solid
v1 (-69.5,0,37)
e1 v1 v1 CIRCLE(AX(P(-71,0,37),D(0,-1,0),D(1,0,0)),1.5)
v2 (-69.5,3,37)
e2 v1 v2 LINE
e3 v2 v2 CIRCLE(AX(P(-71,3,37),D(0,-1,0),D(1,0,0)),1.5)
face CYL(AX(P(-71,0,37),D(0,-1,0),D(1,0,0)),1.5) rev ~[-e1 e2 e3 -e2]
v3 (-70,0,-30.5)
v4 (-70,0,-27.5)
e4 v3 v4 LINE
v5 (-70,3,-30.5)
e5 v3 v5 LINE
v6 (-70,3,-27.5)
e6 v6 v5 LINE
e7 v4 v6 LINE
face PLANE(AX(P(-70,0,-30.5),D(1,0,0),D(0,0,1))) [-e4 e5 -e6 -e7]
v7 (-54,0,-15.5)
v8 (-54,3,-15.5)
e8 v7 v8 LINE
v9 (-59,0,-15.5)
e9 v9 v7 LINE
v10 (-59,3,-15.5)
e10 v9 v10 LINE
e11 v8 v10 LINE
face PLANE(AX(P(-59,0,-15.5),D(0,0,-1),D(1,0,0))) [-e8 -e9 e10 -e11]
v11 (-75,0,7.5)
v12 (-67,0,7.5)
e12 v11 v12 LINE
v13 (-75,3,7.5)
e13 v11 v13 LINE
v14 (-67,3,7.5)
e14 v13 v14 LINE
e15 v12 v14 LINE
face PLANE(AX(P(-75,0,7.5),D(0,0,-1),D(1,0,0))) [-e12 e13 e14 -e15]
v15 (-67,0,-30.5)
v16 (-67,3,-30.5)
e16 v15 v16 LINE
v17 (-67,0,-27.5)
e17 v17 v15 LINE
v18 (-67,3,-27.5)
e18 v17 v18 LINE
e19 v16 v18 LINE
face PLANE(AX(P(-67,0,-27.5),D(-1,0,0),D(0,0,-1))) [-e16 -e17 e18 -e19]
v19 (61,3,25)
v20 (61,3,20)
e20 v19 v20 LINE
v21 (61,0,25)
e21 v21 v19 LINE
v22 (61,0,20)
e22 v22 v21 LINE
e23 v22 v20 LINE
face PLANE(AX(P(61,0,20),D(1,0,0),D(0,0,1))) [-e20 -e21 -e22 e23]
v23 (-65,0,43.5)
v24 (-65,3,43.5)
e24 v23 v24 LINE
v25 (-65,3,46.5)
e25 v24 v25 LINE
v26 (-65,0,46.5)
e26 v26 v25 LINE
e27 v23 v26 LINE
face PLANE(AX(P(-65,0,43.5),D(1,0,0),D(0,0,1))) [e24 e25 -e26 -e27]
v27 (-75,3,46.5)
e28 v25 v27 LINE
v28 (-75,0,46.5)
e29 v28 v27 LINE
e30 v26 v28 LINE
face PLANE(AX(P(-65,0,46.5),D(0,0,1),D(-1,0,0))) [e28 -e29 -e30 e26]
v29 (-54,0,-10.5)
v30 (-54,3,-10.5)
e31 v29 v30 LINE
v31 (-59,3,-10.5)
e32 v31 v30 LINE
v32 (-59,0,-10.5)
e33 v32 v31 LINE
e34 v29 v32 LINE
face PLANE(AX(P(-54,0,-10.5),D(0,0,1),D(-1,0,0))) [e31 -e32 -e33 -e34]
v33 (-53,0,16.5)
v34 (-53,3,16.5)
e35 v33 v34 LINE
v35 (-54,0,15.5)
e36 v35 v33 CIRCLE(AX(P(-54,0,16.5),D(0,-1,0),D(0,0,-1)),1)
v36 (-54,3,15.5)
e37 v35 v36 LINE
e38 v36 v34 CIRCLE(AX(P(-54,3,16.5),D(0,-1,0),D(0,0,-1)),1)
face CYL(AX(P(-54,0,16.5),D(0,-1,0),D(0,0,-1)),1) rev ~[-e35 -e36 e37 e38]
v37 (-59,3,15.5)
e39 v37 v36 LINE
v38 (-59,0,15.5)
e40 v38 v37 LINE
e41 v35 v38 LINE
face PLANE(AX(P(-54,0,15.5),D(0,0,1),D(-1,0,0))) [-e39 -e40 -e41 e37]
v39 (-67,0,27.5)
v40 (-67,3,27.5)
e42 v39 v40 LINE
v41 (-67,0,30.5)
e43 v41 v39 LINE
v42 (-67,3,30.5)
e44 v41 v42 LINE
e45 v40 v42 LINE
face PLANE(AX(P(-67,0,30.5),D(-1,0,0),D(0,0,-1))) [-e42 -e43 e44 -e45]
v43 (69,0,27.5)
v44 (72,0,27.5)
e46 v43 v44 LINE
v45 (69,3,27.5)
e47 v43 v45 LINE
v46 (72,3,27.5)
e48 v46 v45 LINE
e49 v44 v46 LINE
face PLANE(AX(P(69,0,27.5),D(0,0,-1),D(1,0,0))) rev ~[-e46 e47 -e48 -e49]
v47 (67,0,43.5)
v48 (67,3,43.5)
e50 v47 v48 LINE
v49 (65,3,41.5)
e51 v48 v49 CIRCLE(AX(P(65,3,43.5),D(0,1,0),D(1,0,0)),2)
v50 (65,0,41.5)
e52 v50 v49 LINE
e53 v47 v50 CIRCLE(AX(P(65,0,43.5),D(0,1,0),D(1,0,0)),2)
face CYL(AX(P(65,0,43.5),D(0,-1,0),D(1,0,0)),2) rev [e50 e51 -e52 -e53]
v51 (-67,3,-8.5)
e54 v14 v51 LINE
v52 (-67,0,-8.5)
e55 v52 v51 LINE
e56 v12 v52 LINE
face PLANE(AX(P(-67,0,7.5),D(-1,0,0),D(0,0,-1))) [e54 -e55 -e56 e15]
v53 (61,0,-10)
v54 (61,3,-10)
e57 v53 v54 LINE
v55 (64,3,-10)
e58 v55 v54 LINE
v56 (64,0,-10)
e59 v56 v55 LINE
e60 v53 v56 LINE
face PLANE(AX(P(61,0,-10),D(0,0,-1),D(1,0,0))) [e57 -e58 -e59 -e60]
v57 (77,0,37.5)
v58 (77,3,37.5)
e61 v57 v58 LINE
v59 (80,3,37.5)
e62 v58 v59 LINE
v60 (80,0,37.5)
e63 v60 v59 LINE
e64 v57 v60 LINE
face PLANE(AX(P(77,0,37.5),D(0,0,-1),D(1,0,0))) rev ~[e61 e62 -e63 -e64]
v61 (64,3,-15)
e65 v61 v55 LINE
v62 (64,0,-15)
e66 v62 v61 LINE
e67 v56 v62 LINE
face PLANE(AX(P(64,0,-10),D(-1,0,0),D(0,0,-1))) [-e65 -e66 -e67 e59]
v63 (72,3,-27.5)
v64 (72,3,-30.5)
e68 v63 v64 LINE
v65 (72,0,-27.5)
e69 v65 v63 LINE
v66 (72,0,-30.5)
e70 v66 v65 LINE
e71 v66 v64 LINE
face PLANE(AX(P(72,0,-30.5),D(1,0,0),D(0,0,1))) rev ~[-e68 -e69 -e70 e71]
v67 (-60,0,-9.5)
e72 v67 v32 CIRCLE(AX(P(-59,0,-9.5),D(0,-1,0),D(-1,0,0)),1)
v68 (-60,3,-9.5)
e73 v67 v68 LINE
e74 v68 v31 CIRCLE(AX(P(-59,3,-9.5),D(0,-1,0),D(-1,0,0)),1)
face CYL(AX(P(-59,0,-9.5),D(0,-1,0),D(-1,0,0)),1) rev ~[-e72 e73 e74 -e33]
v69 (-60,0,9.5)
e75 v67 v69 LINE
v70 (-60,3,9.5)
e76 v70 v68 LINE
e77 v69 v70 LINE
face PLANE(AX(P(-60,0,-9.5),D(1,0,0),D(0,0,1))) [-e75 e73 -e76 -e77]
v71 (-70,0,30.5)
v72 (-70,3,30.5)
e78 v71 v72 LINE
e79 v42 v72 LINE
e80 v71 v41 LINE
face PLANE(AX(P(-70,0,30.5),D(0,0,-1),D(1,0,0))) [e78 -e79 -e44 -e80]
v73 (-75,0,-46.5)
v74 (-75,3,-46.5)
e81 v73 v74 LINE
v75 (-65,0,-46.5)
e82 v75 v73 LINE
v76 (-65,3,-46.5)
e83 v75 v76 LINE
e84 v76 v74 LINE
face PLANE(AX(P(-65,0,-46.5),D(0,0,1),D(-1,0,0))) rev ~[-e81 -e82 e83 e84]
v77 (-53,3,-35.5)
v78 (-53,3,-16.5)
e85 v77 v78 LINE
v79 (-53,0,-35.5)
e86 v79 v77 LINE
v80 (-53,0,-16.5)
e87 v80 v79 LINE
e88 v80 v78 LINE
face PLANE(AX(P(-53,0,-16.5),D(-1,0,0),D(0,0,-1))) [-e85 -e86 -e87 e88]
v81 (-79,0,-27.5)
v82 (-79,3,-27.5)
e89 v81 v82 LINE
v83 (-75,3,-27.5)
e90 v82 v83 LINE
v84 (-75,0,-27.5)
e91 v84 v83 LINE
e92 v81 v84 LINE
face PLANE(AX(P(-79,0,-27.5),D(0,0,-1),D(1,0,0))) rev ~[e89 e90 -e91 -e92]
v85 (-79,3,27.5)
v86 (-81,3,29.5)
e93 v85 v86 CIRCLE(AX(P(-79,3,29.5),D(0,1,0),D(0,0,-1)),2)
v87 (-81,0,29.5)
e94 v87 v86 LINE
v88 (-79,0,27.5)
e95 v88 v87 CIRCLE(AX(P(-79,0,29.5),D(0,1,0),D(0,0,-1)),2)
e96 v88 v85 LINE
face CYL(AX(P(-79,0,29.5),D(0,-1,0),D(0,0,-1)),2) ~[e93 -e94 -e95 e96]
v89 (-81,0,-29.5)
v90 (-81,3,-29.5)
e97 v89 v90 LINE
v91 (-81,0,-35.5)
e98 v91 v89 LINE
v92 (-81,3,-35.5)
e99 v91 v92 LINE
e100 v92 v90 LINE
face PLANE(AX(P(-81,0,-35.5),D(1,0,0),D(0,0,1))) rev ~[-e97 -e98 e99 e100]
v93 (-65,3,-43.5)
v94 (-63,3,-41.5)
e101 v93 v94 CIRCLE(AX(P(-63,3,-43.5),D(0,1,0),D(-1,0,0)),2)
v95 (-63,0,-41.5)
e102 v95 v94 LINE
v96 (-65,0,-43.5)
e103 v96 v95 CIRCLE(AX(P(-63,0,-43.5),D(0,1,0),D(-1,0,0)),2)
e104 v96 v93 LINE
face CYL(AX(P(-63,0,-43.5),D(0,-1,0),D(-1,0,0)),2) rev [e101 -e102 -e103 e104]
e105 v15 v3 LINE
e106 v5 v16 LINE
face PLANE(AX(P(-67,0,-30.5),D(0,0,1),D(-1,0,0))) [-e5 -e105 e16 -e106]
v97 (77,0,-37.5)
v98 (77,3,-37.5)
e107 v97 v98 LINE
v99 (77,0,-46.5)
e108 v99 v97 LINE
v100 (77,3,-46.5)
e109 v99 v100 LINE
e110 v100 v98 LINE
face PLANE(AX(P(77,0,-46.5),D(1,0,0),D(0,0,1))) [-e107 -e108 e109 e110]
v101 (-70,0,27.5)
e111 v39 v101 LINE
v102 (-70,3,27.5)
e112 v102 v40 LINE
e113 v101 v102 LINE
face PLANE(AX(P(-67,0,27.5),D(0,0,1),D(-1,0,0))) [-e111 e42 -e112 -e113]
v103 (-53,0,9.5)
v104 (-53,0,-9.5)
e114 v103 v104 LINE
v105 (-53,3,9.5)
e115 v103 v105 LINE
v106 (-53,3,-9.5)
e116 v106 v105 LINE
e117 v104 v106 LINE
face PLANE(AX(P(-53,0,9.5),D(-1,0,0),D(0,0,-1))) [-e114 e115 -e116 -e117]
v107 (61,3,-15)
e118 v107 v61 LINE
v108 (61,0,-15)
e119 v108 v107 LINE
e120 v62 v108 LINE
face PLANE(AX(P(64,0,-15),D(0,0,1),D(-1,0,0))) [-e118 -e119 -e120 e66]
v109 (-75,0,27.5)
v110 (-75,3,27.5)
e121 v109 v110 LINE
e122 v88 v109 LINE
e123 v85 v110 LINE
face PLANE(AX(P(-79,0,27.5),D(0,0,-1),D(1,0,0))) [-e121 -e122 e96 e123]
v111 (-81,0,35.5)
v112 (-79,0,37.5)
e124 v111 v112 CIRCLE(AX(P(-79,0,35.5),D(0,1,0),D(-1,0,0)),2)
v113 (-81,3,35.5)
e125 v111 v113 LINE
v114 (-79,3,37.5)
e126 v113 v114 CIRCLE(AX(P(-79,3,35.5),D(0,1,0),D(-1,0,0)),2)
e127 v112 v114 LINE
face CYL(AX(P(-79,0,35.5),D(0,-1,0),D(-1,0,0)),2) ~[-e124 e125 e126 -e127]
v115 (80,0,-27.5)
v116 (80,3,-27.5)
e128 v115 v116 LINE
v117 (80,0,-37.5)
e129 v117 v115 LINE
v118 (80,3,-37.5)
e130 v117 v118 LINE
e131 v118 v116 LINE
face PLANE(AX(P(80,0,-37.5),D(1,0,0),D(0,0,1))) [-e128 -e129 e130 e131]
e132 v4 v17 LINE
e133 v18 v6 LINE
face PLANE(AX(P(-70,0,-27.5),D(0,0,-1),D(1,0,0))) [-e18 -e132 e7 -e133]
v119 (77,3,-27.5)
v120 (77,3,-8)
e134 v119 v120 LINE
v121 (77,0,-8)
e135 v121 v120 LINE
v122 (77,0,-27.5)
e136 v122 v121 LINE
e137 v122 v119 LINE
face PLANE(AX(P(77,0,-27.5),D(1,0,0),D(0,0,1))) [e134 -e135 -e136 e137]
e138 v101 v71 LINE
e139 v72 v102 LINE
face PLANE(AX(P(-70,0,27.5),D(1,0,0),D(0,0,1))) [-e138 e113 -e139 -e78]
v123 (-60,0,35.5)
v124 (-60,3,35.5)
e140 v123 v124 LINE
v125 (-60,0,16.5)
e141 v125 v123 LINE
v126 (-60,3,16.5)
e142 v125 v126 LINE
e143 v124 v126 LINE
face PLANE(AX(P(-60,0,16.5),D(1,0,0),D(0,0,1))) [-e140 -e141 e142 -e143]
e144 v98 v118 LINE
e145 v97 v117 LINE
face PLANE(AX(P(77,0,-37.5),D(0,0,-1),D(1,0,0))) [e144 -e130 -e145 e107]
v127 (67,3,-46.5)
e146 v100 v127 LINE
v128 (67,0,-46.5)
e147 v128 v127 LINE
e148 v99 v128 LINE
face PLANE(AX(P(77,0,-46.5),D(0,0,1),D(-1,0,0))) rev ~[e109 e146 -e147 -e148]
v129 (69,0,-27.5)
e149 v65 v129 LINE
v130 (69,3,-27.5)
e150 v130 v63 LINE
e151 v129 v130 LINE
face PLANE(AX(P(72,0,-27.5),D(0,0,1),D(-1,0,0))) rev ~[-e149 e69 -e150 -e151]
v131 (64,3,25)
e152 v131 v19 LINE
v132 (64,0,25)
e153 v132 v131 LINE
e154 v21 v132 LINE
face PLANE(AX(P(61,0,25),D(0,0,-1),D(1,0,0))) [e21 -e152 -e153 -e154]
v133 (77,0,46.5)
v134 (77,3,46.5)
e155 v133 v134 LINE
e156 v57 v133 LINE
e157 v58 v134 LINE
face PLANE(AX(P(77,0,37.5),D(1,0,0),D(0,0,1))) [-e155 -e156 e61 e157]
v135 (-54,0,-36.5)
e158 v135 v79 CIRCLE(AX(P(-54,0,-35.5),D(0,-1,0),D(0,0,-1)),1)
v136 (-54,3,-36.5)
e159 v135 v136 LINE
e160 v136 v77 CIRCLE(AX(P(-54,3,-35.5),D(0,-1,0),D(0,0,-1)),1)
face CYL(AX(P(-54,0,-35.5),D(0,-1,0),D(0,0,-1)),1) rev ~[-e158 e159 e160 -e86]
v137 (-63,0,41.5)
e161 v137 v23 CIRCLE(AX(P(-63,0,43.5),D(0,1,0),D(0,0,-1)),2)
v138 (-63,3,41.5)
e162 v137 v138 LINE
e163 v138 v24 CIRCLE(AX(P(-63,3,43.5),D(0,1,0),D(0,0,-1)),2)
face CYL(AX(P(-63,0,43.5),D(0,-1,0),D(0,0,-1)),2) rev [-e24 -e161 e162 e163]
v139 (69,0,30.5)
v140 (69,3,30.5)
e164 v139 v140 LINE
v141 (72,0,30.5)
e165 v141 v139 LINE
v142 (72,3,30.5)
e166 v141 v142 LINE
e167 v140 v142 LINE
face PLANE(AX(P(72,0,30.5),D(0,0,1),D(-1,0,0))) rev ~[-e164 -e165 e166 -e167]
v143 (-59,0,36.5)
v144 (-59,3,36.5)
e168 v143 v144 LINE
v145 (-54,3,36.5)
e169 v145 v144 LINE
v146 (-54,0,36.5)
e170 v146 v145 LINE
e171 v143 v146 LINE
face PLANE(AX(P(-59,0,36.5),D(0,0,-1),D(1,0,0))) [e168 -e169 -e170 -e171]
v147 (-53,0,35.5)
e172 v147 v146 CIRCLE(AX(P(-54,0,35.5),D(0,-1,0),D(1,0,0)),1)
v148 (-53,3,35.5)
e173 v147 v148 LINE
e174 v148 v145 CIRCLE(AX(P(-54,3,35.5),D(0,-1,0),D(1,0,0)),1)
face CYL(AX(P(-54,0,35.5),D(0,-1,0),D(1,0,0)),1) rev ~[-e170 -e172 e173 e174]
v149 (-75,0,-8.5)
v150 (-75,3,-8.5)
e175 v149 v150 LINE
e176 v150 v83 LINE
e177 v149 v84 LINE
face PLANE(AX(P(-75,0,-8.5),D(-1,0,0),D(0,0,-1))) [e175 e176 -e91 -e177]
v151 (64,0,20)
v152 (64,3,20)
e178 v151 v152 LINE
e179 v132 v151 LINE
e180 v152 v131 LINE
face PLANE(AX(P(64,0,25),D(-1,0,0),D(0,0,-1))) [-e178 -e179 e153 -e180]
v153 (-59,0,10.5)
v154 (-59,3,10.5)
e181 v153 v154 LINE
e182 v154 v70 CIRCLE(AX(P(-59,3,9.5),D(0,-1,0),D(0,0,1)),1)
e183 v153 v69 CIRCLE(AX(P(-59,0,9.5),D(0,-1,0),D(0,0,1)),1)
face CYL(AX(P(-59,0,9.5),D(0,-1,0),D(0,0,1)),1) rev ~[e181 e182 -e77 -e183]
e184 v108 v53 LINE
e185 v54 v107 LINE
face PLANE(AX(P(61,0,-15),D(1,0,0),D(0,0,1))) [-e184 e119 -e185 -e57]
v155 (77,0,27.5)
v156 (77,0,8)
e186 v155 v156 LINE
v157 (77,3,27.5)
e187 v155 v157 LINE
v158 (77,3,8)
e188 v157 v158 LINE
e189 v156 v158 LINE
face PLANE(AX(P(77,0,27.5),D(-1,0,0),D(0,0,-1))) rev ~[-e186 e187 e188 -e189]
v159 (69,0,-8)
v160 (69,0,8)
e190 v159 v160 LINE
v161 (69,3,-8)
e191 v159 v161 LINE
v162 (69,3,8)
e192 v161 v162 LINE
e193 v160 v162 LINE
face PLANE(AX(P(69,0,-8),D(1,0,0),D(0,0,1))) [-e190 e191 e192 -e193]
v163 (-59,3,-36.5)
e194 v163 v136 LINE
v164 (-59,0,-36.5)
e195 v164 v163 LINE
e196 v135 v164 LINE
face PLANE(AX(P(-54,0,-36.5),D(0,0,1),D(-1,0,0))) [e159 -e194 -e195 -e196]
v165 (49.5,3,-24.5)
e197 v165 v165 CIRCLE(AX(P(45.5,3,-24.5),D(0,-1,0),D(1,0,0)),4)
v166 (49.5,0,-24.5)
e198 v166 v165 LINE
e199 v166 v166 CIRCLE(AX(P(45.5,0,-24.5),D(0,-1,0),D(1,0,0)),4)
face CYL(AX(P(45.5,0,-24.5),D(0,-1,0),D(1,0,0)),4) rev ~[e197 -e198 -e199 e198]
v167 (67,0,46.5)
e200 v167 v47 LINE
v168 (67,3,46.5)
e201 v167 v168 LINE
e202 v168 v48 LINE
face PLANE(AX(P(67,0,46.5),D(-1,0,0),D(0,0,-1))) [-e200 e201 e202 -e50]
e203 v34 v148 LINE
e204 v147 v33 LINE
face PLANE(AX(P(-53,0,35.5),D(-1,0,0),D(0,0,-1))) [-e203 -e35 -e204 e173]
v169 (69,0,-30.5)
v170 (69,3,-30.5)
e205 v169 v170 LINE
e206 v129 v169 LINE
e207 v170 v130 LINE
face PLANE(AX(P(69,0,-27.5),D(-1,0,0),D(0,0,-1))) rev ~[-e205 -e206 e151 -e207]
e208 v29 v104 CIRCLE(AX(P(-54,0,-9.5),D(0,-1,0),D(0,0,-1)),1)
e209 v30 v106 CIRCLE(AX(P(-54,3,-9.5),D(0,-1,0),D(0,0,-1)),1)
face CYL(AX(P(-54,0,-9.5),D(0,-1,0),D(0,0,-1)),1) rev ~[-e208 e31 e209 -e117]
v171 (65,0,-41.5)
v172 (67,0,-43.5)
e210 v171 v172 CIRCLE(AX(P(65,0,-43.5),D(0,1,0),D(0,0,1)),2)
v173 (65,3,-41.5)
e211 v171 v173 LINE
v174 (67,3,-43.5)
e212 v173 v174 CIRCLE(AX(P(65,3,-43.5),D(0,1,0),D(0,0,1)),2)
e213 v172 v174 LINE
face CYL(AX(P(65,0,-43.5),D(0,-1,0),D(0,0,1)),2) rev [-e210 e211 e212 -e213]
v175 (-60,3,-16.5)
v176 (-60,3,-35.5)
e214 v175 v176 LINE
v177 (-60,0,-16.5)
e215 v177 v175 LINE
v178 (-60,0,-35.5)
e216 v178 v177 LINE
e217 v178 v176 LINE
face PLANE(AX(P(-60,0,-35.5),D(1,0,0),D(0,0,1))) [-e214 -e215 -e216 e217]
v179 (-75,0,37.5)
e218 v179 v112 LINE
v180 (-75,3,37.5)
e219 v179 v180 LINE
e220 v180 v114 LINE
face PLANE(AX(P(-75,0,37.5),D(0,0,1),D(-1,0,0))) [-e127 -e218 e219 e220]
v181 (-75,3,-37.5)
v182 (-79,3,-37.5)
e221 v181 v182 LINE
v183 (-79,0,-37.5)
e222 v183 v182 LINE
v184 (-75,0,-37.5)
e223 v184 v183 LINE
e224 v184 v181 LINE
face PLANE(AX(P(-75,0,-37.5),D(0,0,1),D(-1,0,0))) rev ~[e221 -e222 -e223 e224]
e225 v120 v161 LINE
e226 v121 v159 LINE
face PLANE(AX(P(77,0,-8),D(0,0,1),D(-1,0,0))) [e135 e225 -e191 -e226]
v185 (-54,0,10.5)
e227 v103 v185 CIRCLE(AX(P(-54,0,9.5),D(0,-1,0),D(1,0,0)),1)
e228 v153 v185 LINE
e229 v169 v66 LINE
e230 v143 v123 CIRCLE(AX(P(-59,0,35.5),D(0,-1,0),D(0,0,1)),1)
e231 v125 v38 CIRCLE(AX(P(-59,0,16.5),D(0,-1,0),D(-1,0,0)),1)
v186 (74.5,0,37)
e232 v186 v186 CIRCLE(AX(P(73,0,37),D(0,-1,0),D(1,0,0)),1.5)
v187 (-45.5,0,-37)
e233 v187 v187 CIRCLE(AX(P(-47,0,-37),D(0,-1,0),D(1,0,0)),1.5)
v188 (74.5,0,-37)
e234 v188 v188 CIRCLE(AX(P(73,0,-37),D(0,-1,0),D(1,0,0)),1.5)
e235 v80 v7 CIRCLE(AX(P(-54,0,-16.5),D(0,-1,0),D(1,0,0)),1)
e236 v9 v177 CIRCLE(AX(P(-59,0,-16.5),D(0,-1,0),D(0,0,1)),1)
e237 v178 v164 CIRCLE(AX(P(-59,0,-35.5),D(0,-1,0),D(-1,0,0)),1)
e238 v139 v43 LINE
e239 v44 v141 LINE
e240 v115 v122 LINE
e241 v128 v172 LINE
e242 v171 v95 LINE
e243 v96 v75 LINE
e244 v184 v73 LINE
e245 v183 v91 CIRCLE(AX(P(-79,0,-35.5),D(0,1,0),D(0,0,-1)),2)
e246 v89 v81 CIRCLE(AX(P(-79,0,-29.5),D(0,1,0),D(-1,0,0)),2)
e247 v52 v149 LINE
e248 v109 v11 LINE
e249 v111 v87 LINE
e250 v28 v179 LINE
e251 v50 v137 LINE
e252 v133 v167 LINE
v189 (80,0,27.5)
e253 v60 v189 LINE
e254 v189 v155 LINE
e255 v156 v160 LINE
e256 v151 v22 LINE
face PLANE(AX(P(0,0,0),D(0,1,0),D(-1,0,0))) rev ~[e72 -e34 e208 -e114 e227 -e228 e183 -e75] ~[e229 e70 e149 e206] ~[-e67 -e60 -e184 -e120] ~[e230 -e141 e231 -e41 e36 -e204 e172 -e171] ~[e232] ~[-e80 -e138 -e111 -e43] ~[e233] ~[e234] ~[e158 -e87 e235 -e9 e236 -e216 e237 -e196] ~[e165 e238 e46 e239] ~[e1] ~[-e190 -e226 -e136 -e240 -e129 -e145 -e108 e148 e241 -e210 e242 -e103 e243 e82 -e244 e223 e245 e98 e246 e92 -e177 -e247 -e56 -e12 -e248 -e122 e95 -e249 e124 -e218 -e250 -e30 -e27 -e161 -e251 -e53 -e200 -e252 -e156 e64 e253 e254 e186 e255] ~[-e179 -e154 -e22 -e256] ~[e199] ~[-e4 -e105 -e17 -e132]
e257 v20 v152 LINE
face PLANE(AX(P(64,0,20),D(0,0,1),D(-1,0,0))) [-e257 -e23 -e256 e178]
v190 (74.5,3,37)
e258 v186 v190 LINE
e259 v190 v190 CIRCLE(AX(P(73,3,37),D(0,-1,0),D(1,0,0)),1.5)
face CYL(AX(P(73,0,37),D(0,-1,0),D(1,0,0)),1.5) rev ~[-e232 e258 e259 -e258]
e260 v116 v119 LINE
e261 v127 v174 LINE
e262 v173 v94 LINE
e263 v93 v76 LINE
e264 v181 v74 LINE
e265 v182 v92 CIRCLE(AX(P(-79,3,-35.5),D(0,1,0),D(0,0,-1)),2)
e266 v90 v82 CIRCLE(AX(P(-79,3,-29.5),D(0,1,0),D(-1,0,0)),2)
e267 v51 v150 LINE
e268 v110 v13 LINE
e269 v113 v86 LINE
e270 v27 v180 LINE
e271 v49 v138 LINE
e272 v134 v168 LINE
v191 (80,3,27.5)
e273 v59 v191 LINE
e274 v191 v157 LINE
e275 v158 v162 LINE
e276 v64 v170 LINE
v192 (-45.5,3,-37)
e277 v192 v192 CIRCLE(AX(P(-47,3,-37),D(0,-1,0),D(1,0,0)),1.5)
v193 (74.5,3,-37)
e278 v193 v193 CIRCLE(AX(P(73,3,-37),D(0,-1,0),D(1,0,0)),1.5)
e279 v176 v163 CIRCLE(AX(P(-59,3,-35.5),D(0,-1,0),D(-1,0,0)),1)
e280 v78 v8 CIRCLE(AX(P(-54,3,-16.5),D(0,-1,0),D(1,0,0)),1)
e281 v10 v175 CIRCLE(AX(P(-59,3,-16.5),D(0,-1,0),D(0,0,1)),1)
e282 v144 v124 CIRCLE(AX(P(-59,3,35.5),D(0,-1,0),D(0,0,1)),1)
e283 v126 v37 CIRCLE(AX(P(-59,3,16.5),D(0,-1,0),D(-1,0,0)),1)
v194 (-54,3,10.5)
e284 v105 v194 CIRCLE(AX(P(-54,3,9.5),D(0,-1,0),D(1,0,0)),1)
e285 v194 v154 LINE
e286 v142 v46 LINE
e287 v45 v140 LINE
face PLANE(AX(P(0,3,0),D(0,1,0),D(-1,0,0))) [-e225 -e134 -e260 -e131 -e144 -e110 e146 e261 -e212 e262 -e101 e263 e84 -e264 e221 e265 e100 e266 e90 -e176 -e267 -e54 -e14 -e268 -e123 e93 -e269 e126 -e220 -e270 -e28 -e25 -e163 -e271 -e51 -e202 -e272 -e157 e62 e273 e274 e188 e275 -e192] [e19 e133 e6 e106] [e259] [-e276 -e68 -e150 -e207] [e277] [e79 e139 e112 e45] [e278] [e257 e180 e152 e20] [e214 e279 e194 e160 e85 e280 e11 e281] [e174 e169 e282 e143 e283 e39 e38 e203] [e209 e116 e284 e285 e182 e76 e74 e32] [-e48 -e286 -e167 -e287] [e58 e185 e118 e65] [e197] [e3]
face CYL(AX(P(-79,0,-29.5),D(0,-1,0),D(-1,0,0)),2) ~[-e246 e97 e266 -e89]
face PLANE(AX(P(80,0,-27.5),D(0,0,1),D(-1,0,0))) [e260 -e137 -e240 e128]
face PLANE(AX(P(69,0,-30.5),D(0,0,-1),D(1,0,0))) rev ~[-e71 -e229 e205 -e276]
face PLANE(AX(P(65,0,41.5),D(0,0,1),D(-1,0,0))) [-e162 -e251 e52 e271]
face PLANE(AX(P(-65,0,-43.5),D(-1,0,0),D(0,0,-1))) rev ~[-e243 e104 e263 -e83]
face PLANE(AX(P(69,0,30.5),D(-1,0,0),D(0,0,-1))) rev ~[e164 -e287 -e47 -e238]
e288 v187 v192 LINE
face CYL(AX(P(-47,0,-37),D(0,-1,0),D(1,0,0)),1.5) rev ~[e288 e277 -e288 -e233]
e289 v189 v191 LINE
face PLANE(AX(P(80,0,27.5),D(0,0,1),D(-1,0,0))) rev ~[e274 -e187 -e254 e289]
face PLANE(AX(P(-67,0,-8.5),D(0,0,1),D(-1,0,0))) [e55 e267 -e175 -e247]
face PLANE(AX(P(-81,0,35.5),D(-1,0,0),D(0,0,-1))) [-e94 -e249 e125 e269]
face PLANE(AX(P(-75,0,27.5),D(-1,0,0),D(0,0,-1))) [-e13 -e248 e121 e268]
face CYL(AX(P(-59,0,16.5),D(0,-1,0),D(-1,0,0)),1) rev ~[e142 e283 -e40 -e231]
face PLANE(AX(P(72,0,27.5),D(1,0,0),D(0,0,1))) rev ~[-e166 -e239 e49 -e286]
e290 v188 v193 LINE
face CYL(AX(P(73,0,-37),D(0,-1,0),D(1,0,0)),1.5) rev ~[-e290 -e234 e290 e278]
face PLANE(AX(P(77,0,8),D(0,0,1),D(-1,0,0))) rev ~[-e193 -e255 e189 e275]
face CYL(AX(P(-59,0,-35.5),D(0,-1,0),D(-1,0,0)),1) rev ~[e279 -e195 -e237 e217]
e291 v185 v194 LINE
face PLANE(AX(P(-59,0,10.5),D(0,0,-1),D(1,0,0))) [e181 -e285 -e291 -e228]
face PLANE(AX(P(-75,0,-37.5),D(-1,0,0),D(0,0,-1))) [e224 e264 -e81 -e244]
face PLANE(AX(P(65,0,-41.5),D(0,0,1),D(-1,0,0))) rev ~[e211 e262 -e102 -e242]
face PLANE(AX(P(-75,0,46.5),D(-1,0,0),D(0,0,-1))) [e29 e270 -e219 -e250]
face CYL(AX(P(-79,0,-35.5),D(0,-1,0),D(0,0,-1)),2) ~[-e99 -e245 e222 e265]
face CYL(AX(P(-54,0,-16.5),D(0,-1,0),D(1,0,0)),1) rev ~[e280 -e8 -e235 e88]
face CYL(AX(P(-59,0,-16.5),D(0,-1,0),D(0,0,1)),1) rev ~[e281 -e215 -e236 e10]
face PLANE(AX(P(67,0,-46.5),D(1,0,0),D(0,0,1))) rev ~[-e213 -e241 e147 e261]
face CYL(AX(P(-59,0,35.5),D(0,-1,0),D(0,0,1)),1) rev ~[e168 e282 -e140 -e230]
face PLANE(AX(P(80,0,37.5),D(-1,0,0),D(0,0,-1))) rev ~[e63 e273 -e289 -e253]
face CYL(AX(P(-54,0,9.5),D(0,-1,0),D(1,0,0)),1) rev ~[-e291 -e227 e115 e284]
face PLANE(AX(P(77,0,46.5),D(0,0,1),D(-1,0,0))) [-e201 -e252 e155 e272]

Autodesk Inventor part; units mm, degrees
ref_plane "YZ Plane" through (0, 0, 0) normal (1, 0, 0) x (0, 1, 0)
ref_plane "XZ Plane" through (0, 0, 0) normal (0, 1, 0) x (-1, 0, 0)
ref_plane "XY Plane" through (0, 0, 0) normal (0, 0, 1) x (1, 0, 0)
sketch "Sketch1" plane through (0, 0, 0) normal (0, 1, 0) x (-1, 0, 0)
  line L0 (-77, 37.5) -> (-80, 37.5)
  line L1 (-80, 27.5) -> (-77, 27.5)
  line L2 (-77, 27.5) -> (-77, 8)
  line L3 (-77, 8) -> (-69, 8)
  line L4 (-77, -37.5) -> (-80, -37.5)
  line L5 (-80, -27.5) -> (-77, -27.5)
  line L6 (-77, -27.5) -> (-77, -8)
  line L7 (-77, -8) -> (-69, -8)
  line L8 (-69, -8) -> (-69, 8)
  line L9 (-80, 37.5) -> (-80, 27.5)
  line L10 (-80, -37.5) -> (-80, -27.5)
  line L11 (75, 37.5) -> (79, 37.5)
  line L12 (81, 35.5) -> (81, 29.5)
  line L13 (79, 27.5) -> (75, 27.5)
  line L14 (75, -37.5) -> (79, -37.5)
  line L15 (81, -35.5) -> (81, -29.5)
  line L16 (79, -27.5) -> (75, -27.5)
  line L17 (75, 46.5) -> (75, 37.5)
  line L18 (75, -37.5) -> (75, -46.5)
  line L19 (-77, 37.5) -> (-77, 46.5)
  line L20 (-77, -46.5) -> (-77, -37.5)
  arc A0 (81, 35.5) -> (79, 37.5) centre (79, 35.5) ccw
  arc A1 (79, 27.5) -> (81, 29.5) centre (79, 29.5) ccw
  arc A2 (81, -29.5) -> (79, -27.5) centre (79, -29.5) ccw
  arc A3 (79, -37.5) -> (81, -35.5) centre (79, -35.5) ccw
  line L21 (75, 7.5) -> (67, 7.5)
  line L22 (67, 7.5) -> (67, -8.5)
  line L23 (67, -8.5) -> (75, -8.5)
  line L24 (75, 27.5) -> (75, 7.5)
  line L25 (75, -8.5) -> (75, -27.5)
  line L26 (-67, 46.5) -> (-67, 43.5)
  line L27 (-65, 41.5) -> (63, 41.5)
  line L28 (65, 43.5) -> (65, 46.5)
  line L29 (-77, 46.5) -> (-67, 46.5)
  line L30 (65, 46.5) -> (75, 46.5)
  line L31 (-67, -46.5) -> (-67, -43.5)
  line L32 (-65, -41.5) -> (63, -41.5)
  line L33 (65, -43.5) -> (65, -46.5)
  line L34 (-77, -46.5) -> (-67, -46.5)
  line L35 (65, -46.5) -> (75, -46.5)
  arc A4 (65, -43.5) -> (63, -41.5) centre (63, -43.5) ccw
  arc A5 (-65, -41.5) -> (-67, -43.5) centre (-65, -43.5) ccw
  arc A6 (-67, 43.5) -> (-65, 41.5) centre (-65, 43.5) ccw
  arc A7 (63, 41.5) -> (65, 43.5) centre (63, 43.5) ccw
  point P0 (0, 0)
  point P1 (81, 37.5)
  point P2 (81, 27.5)
  point P3 (81, -37.5)
  point P4 (81, -27.5)
  point P5 (-67, 41.5)
  point P6 (-67, -41.5)
  dimension "d5" = 10
  dimension "d20" = 3
  dimension "d43" = 3
  dimension "d44" = 8
  dimension "d49" = 10
  dimension "d50" = 10
  dimension "d53" = 6
  dimension "d54" = 6
  dimension "d74" = 2
  dimension "d75" = 8
  dimension "d76" = 8
  dimension "d77" = 16
  dimension "d89" = 8
  dimension "d113" = 5
  dimension "d114" = 10
  dimension "d115" = 10
  dimension "d116" = 5
  dimension "d117" = 10
  dimension "d118" = 10
  dimension "d119" = 2
  dimension "d120" = 6
  dimension "d124" = 41.5
  dimension "d127" = 6
  dimension "d128" = 80
  dimension "d129" = 3
  dimension "d130" = 132
  dimension "d133" = 3
  dimension "d135" = 33
  dimension "d136" = 93
  dimension "d140" = 16
  dimension "d142" = 8
  dimension "d144" = 10
  dimension "d145" = 5
  dimension "d146" = 5
  dimension "d147" = 27.5
  dimension "d148" = 27.5
  dimension "d149" = 27.5
  dimension "d150" = 27.5
  dimension "d164" = 161
extrude "Extrusion1" add sketch "Sketch1" along normal blind 3
sketch "Sketch2" plane through (0, 0, 0) normal (0, -1, 0) x (1, 0, 0)
  line L0 (77, 46.5) -> (77, 37.5) projected
  line L1 (-75, 7.5) -> (-75, 27.5) projected
  line L2 (-75, -27.5) -> (-75, -8.5) projected
  line L3 (-70, 30.5) -> (-67, 30.5)
  line L4 (-67, 30.5) -> (-67, 27.5)
  line L5 (-67, 27.5) -> (-70, 27.5)
  line L6 (-70, 27.5) -> (-70, 30.5)
  line L7 (-70, -27.5) -> (-67, -27.5)
  line L8 (-67, -27.5) -> (-67, -30.5)
  line L9 (-67, -30.5) -> (-70, -30.5)
  line L10 (-70, -30.5) -> (-70, -27.5)
  line L11 (77, -37.5) -> (77, -46.5) projected
  line L12 (69, 27.5) -> (72, 27.5)
  line L13 (72, 27.5) -> (72, 30.5)
  line L14 (72, 30.5) -> (69, 30.5)
  line L15 (69, 30.5) -> (69, 27.5)
  line L16 (69, -30.5) -> (72, -30.5)
  line L17 (72, -30.5) -> (72, -27.5)
  line L18 (72, -27.5) -> (69, -27.5)
  line L19 (69, -27.5) -> (69, -30.5)
  line L20 (77, -8) -> (77, -27.5) projected
  line L21 (77, 27.5) -> (77, 8) projected
  line L22 (61, 25) -> (64, 25)
  line L23 (64, 25) -> (64, 20)
  line L24 (64, 20) -> (61, 20)
  line L25 (61, 20) -> (61, 25)
  line L26 (61, -10) -> (64, -10)
  line L27 (64, -10) -> (64, -15)
  line L28 (64, -15) -> (61, -15)
  line L29 (61, -15) -> (61, -10)
  line L30 (65, -41.5) -> (-63, -41.5) projected
  point P0 (0, 0)
  dimension "d79" = 3
  dimension "d80" = 3
  dimension "d81" = 3
  dimension "d82" = 3
  dimension "d83" = 5
  dimension "d84" = 5
  dimension "d85" = 27.5
  dimension "d86" = 27.5
  dimension "d90" = 5
  dimension "d91" = 5
  dimension "d92" = 27.5
  dimension "d93" = 27.5
  dimension "d94" = 3
  dimension "d95" = 3
  dimension "d96" = 3
  dimension "d97" = 3
  dimension "d151" = 5
  dimension "d152" = 3
  dimension "d153" = 5
  dimension "d154" = 3
  dimension "d155" = 30
  dimension "d161" = 16
  dimension "d162" = 16
  dimension "d165" = 31.5
extrude "Extrusion5" cut sketch "Sketch2" against normal through all
sketch "Sketch4" plane through (0, 0, 0) normal (0, -1, 0) x (1, 0, 0)
  line L0 (-63, 41.5) -> (65, 41.5) projected
  line L1 (-75, 37.5) -> (-75, 46.5) projected
  line L2 (65, -41.5) -> (-63, -41.5) projected
  line L3 (77, -8) -> (77, -27.5) projected
  circle A0 centre (45.5, -24.5) radius 4
  circle A1 centre (73, 37) radius 1.5
  circle A2 centre (-71, 37) radius 1.5
  circle A3 centre (73, -37) radius 1.5
  line L4 (-75, 7.5) -> (-75, 27.5) projected
  line L5 (-75, -27.5) -> (-75, -8.5) projected
  line L6 (-59, 36.5) -> (-54, 36.5)
  line L7 (-53, 35.5) -> (-53, 16.5)
  line L8 (-54, 15.5) -> (-59, 15.5)
  line L9 (-60, 16.5) -> (-60, 35.5)
  line L10 (-59, 10.5) -> (-54, 10.5)
  line L11 (-53, 9.5) -> (-53, -9.5)
  line L12 (-54, -10.5) -> (-59, -10.5)
  line L13 (-60, -9.5) -> (-60, 9.5)
  line L14 (-59, -15.5) -> (-54, -15.5)
  line L15 (-53, -16.5) -> (-53, -35.5)
  line L16 (-54, -36.5) -> (-59, -36.5)
  line L17 (-60, -35.5) -> (-60, -16.5)
  arc A4 (-59, 36.5) -> (-60, 35.5) centre (-59, 35.5) ccw
  arc A5 (-53, 35.5) -> (-54, 36.5) centre (-54, 35.5) ccw
  arc A6 (-54, 15.5) -> (-53, 16.5) centre (-54, 16.5) ccw
  arc A7 (-60, 16.5) -> (-59, 15.5) centre (-59, 16.5) ccw
  arc A8 (-59, 10.5) -> (-60, 9.5) centre (-59, 9.5) ccw
  arc A9 (-53, 9.5) -> (-54, 10.5) centre (-54, 9.5) ccw
  arc A10 (-54, -10.5) -> (-53, -9.5) centre (-54, -9.5) ccw
  arc A11 (-60, -9.5) -> (-59, -10.5) centre (-59, -9.5) ccw
  arc A12 (-59, -15.5) -> (-60, -16.5) centre (-59, -16.5) ccw
  arc A13 (-53, -16.5) -> (-54, -15.5) centre (-54, -16.5) ccw
  arc A14 (-54, -36.5) -> (-53, -35.5) centre (-54, -35.5) ccw
  arc A15 (-60, -35.5) -> (-59, -36.5) centre (-59, -35.5) ccw
  circle A16 centre (-47, -37) radius 1.5
  point P0 (0, 0)
  point P1 (-53, 15.5)
  point P2 (-53, 36.5)
  point P3 (-60, 15.5)
  point P4 (-53, -10.5)
  point P5 (-53, 10.5)
  point P6 (-60, -10.5)
  point P7 (-53, -36.5)
  point P8 (-53, -15.5)
  point P9 (-60, -36.5)
  dimension "d167" = 17
  dimension "d168" = 8
  dimension "d169" = 3
  dimension "d170" = 3
  dimension "d171" = 144
  dimension "d172" = 4
  dimension "d173" = 31.5
  dimension "d176" = 3
  dimension "d177" = 74
  dimension "d179" = 4.5
  dimension "d181" = 4.5
  dimension "d184" = 4.5
  dimension "d185" = 21
  dimension "d186" = 7
  dimension "d187" = 15
  dimension "d188" = 5
  dimension "d189" = 21
  dimension "d190" = 7
  dimension "d191" = 5
  dimension "d192" = 15
  dimension "d193" = 21
  dimension "d194" = 5
  dimension "d195" = 15
  dimension "d196" = 7
  dimension "d197" = 1
  dimension "d200" = 3
  dimension "d201" = 4.5
  dimension "d202" = 24
extrude "Extrusion8" cut sketch "Sketch4" against normal blind 10
properties part number "Main Platform 25100813"
